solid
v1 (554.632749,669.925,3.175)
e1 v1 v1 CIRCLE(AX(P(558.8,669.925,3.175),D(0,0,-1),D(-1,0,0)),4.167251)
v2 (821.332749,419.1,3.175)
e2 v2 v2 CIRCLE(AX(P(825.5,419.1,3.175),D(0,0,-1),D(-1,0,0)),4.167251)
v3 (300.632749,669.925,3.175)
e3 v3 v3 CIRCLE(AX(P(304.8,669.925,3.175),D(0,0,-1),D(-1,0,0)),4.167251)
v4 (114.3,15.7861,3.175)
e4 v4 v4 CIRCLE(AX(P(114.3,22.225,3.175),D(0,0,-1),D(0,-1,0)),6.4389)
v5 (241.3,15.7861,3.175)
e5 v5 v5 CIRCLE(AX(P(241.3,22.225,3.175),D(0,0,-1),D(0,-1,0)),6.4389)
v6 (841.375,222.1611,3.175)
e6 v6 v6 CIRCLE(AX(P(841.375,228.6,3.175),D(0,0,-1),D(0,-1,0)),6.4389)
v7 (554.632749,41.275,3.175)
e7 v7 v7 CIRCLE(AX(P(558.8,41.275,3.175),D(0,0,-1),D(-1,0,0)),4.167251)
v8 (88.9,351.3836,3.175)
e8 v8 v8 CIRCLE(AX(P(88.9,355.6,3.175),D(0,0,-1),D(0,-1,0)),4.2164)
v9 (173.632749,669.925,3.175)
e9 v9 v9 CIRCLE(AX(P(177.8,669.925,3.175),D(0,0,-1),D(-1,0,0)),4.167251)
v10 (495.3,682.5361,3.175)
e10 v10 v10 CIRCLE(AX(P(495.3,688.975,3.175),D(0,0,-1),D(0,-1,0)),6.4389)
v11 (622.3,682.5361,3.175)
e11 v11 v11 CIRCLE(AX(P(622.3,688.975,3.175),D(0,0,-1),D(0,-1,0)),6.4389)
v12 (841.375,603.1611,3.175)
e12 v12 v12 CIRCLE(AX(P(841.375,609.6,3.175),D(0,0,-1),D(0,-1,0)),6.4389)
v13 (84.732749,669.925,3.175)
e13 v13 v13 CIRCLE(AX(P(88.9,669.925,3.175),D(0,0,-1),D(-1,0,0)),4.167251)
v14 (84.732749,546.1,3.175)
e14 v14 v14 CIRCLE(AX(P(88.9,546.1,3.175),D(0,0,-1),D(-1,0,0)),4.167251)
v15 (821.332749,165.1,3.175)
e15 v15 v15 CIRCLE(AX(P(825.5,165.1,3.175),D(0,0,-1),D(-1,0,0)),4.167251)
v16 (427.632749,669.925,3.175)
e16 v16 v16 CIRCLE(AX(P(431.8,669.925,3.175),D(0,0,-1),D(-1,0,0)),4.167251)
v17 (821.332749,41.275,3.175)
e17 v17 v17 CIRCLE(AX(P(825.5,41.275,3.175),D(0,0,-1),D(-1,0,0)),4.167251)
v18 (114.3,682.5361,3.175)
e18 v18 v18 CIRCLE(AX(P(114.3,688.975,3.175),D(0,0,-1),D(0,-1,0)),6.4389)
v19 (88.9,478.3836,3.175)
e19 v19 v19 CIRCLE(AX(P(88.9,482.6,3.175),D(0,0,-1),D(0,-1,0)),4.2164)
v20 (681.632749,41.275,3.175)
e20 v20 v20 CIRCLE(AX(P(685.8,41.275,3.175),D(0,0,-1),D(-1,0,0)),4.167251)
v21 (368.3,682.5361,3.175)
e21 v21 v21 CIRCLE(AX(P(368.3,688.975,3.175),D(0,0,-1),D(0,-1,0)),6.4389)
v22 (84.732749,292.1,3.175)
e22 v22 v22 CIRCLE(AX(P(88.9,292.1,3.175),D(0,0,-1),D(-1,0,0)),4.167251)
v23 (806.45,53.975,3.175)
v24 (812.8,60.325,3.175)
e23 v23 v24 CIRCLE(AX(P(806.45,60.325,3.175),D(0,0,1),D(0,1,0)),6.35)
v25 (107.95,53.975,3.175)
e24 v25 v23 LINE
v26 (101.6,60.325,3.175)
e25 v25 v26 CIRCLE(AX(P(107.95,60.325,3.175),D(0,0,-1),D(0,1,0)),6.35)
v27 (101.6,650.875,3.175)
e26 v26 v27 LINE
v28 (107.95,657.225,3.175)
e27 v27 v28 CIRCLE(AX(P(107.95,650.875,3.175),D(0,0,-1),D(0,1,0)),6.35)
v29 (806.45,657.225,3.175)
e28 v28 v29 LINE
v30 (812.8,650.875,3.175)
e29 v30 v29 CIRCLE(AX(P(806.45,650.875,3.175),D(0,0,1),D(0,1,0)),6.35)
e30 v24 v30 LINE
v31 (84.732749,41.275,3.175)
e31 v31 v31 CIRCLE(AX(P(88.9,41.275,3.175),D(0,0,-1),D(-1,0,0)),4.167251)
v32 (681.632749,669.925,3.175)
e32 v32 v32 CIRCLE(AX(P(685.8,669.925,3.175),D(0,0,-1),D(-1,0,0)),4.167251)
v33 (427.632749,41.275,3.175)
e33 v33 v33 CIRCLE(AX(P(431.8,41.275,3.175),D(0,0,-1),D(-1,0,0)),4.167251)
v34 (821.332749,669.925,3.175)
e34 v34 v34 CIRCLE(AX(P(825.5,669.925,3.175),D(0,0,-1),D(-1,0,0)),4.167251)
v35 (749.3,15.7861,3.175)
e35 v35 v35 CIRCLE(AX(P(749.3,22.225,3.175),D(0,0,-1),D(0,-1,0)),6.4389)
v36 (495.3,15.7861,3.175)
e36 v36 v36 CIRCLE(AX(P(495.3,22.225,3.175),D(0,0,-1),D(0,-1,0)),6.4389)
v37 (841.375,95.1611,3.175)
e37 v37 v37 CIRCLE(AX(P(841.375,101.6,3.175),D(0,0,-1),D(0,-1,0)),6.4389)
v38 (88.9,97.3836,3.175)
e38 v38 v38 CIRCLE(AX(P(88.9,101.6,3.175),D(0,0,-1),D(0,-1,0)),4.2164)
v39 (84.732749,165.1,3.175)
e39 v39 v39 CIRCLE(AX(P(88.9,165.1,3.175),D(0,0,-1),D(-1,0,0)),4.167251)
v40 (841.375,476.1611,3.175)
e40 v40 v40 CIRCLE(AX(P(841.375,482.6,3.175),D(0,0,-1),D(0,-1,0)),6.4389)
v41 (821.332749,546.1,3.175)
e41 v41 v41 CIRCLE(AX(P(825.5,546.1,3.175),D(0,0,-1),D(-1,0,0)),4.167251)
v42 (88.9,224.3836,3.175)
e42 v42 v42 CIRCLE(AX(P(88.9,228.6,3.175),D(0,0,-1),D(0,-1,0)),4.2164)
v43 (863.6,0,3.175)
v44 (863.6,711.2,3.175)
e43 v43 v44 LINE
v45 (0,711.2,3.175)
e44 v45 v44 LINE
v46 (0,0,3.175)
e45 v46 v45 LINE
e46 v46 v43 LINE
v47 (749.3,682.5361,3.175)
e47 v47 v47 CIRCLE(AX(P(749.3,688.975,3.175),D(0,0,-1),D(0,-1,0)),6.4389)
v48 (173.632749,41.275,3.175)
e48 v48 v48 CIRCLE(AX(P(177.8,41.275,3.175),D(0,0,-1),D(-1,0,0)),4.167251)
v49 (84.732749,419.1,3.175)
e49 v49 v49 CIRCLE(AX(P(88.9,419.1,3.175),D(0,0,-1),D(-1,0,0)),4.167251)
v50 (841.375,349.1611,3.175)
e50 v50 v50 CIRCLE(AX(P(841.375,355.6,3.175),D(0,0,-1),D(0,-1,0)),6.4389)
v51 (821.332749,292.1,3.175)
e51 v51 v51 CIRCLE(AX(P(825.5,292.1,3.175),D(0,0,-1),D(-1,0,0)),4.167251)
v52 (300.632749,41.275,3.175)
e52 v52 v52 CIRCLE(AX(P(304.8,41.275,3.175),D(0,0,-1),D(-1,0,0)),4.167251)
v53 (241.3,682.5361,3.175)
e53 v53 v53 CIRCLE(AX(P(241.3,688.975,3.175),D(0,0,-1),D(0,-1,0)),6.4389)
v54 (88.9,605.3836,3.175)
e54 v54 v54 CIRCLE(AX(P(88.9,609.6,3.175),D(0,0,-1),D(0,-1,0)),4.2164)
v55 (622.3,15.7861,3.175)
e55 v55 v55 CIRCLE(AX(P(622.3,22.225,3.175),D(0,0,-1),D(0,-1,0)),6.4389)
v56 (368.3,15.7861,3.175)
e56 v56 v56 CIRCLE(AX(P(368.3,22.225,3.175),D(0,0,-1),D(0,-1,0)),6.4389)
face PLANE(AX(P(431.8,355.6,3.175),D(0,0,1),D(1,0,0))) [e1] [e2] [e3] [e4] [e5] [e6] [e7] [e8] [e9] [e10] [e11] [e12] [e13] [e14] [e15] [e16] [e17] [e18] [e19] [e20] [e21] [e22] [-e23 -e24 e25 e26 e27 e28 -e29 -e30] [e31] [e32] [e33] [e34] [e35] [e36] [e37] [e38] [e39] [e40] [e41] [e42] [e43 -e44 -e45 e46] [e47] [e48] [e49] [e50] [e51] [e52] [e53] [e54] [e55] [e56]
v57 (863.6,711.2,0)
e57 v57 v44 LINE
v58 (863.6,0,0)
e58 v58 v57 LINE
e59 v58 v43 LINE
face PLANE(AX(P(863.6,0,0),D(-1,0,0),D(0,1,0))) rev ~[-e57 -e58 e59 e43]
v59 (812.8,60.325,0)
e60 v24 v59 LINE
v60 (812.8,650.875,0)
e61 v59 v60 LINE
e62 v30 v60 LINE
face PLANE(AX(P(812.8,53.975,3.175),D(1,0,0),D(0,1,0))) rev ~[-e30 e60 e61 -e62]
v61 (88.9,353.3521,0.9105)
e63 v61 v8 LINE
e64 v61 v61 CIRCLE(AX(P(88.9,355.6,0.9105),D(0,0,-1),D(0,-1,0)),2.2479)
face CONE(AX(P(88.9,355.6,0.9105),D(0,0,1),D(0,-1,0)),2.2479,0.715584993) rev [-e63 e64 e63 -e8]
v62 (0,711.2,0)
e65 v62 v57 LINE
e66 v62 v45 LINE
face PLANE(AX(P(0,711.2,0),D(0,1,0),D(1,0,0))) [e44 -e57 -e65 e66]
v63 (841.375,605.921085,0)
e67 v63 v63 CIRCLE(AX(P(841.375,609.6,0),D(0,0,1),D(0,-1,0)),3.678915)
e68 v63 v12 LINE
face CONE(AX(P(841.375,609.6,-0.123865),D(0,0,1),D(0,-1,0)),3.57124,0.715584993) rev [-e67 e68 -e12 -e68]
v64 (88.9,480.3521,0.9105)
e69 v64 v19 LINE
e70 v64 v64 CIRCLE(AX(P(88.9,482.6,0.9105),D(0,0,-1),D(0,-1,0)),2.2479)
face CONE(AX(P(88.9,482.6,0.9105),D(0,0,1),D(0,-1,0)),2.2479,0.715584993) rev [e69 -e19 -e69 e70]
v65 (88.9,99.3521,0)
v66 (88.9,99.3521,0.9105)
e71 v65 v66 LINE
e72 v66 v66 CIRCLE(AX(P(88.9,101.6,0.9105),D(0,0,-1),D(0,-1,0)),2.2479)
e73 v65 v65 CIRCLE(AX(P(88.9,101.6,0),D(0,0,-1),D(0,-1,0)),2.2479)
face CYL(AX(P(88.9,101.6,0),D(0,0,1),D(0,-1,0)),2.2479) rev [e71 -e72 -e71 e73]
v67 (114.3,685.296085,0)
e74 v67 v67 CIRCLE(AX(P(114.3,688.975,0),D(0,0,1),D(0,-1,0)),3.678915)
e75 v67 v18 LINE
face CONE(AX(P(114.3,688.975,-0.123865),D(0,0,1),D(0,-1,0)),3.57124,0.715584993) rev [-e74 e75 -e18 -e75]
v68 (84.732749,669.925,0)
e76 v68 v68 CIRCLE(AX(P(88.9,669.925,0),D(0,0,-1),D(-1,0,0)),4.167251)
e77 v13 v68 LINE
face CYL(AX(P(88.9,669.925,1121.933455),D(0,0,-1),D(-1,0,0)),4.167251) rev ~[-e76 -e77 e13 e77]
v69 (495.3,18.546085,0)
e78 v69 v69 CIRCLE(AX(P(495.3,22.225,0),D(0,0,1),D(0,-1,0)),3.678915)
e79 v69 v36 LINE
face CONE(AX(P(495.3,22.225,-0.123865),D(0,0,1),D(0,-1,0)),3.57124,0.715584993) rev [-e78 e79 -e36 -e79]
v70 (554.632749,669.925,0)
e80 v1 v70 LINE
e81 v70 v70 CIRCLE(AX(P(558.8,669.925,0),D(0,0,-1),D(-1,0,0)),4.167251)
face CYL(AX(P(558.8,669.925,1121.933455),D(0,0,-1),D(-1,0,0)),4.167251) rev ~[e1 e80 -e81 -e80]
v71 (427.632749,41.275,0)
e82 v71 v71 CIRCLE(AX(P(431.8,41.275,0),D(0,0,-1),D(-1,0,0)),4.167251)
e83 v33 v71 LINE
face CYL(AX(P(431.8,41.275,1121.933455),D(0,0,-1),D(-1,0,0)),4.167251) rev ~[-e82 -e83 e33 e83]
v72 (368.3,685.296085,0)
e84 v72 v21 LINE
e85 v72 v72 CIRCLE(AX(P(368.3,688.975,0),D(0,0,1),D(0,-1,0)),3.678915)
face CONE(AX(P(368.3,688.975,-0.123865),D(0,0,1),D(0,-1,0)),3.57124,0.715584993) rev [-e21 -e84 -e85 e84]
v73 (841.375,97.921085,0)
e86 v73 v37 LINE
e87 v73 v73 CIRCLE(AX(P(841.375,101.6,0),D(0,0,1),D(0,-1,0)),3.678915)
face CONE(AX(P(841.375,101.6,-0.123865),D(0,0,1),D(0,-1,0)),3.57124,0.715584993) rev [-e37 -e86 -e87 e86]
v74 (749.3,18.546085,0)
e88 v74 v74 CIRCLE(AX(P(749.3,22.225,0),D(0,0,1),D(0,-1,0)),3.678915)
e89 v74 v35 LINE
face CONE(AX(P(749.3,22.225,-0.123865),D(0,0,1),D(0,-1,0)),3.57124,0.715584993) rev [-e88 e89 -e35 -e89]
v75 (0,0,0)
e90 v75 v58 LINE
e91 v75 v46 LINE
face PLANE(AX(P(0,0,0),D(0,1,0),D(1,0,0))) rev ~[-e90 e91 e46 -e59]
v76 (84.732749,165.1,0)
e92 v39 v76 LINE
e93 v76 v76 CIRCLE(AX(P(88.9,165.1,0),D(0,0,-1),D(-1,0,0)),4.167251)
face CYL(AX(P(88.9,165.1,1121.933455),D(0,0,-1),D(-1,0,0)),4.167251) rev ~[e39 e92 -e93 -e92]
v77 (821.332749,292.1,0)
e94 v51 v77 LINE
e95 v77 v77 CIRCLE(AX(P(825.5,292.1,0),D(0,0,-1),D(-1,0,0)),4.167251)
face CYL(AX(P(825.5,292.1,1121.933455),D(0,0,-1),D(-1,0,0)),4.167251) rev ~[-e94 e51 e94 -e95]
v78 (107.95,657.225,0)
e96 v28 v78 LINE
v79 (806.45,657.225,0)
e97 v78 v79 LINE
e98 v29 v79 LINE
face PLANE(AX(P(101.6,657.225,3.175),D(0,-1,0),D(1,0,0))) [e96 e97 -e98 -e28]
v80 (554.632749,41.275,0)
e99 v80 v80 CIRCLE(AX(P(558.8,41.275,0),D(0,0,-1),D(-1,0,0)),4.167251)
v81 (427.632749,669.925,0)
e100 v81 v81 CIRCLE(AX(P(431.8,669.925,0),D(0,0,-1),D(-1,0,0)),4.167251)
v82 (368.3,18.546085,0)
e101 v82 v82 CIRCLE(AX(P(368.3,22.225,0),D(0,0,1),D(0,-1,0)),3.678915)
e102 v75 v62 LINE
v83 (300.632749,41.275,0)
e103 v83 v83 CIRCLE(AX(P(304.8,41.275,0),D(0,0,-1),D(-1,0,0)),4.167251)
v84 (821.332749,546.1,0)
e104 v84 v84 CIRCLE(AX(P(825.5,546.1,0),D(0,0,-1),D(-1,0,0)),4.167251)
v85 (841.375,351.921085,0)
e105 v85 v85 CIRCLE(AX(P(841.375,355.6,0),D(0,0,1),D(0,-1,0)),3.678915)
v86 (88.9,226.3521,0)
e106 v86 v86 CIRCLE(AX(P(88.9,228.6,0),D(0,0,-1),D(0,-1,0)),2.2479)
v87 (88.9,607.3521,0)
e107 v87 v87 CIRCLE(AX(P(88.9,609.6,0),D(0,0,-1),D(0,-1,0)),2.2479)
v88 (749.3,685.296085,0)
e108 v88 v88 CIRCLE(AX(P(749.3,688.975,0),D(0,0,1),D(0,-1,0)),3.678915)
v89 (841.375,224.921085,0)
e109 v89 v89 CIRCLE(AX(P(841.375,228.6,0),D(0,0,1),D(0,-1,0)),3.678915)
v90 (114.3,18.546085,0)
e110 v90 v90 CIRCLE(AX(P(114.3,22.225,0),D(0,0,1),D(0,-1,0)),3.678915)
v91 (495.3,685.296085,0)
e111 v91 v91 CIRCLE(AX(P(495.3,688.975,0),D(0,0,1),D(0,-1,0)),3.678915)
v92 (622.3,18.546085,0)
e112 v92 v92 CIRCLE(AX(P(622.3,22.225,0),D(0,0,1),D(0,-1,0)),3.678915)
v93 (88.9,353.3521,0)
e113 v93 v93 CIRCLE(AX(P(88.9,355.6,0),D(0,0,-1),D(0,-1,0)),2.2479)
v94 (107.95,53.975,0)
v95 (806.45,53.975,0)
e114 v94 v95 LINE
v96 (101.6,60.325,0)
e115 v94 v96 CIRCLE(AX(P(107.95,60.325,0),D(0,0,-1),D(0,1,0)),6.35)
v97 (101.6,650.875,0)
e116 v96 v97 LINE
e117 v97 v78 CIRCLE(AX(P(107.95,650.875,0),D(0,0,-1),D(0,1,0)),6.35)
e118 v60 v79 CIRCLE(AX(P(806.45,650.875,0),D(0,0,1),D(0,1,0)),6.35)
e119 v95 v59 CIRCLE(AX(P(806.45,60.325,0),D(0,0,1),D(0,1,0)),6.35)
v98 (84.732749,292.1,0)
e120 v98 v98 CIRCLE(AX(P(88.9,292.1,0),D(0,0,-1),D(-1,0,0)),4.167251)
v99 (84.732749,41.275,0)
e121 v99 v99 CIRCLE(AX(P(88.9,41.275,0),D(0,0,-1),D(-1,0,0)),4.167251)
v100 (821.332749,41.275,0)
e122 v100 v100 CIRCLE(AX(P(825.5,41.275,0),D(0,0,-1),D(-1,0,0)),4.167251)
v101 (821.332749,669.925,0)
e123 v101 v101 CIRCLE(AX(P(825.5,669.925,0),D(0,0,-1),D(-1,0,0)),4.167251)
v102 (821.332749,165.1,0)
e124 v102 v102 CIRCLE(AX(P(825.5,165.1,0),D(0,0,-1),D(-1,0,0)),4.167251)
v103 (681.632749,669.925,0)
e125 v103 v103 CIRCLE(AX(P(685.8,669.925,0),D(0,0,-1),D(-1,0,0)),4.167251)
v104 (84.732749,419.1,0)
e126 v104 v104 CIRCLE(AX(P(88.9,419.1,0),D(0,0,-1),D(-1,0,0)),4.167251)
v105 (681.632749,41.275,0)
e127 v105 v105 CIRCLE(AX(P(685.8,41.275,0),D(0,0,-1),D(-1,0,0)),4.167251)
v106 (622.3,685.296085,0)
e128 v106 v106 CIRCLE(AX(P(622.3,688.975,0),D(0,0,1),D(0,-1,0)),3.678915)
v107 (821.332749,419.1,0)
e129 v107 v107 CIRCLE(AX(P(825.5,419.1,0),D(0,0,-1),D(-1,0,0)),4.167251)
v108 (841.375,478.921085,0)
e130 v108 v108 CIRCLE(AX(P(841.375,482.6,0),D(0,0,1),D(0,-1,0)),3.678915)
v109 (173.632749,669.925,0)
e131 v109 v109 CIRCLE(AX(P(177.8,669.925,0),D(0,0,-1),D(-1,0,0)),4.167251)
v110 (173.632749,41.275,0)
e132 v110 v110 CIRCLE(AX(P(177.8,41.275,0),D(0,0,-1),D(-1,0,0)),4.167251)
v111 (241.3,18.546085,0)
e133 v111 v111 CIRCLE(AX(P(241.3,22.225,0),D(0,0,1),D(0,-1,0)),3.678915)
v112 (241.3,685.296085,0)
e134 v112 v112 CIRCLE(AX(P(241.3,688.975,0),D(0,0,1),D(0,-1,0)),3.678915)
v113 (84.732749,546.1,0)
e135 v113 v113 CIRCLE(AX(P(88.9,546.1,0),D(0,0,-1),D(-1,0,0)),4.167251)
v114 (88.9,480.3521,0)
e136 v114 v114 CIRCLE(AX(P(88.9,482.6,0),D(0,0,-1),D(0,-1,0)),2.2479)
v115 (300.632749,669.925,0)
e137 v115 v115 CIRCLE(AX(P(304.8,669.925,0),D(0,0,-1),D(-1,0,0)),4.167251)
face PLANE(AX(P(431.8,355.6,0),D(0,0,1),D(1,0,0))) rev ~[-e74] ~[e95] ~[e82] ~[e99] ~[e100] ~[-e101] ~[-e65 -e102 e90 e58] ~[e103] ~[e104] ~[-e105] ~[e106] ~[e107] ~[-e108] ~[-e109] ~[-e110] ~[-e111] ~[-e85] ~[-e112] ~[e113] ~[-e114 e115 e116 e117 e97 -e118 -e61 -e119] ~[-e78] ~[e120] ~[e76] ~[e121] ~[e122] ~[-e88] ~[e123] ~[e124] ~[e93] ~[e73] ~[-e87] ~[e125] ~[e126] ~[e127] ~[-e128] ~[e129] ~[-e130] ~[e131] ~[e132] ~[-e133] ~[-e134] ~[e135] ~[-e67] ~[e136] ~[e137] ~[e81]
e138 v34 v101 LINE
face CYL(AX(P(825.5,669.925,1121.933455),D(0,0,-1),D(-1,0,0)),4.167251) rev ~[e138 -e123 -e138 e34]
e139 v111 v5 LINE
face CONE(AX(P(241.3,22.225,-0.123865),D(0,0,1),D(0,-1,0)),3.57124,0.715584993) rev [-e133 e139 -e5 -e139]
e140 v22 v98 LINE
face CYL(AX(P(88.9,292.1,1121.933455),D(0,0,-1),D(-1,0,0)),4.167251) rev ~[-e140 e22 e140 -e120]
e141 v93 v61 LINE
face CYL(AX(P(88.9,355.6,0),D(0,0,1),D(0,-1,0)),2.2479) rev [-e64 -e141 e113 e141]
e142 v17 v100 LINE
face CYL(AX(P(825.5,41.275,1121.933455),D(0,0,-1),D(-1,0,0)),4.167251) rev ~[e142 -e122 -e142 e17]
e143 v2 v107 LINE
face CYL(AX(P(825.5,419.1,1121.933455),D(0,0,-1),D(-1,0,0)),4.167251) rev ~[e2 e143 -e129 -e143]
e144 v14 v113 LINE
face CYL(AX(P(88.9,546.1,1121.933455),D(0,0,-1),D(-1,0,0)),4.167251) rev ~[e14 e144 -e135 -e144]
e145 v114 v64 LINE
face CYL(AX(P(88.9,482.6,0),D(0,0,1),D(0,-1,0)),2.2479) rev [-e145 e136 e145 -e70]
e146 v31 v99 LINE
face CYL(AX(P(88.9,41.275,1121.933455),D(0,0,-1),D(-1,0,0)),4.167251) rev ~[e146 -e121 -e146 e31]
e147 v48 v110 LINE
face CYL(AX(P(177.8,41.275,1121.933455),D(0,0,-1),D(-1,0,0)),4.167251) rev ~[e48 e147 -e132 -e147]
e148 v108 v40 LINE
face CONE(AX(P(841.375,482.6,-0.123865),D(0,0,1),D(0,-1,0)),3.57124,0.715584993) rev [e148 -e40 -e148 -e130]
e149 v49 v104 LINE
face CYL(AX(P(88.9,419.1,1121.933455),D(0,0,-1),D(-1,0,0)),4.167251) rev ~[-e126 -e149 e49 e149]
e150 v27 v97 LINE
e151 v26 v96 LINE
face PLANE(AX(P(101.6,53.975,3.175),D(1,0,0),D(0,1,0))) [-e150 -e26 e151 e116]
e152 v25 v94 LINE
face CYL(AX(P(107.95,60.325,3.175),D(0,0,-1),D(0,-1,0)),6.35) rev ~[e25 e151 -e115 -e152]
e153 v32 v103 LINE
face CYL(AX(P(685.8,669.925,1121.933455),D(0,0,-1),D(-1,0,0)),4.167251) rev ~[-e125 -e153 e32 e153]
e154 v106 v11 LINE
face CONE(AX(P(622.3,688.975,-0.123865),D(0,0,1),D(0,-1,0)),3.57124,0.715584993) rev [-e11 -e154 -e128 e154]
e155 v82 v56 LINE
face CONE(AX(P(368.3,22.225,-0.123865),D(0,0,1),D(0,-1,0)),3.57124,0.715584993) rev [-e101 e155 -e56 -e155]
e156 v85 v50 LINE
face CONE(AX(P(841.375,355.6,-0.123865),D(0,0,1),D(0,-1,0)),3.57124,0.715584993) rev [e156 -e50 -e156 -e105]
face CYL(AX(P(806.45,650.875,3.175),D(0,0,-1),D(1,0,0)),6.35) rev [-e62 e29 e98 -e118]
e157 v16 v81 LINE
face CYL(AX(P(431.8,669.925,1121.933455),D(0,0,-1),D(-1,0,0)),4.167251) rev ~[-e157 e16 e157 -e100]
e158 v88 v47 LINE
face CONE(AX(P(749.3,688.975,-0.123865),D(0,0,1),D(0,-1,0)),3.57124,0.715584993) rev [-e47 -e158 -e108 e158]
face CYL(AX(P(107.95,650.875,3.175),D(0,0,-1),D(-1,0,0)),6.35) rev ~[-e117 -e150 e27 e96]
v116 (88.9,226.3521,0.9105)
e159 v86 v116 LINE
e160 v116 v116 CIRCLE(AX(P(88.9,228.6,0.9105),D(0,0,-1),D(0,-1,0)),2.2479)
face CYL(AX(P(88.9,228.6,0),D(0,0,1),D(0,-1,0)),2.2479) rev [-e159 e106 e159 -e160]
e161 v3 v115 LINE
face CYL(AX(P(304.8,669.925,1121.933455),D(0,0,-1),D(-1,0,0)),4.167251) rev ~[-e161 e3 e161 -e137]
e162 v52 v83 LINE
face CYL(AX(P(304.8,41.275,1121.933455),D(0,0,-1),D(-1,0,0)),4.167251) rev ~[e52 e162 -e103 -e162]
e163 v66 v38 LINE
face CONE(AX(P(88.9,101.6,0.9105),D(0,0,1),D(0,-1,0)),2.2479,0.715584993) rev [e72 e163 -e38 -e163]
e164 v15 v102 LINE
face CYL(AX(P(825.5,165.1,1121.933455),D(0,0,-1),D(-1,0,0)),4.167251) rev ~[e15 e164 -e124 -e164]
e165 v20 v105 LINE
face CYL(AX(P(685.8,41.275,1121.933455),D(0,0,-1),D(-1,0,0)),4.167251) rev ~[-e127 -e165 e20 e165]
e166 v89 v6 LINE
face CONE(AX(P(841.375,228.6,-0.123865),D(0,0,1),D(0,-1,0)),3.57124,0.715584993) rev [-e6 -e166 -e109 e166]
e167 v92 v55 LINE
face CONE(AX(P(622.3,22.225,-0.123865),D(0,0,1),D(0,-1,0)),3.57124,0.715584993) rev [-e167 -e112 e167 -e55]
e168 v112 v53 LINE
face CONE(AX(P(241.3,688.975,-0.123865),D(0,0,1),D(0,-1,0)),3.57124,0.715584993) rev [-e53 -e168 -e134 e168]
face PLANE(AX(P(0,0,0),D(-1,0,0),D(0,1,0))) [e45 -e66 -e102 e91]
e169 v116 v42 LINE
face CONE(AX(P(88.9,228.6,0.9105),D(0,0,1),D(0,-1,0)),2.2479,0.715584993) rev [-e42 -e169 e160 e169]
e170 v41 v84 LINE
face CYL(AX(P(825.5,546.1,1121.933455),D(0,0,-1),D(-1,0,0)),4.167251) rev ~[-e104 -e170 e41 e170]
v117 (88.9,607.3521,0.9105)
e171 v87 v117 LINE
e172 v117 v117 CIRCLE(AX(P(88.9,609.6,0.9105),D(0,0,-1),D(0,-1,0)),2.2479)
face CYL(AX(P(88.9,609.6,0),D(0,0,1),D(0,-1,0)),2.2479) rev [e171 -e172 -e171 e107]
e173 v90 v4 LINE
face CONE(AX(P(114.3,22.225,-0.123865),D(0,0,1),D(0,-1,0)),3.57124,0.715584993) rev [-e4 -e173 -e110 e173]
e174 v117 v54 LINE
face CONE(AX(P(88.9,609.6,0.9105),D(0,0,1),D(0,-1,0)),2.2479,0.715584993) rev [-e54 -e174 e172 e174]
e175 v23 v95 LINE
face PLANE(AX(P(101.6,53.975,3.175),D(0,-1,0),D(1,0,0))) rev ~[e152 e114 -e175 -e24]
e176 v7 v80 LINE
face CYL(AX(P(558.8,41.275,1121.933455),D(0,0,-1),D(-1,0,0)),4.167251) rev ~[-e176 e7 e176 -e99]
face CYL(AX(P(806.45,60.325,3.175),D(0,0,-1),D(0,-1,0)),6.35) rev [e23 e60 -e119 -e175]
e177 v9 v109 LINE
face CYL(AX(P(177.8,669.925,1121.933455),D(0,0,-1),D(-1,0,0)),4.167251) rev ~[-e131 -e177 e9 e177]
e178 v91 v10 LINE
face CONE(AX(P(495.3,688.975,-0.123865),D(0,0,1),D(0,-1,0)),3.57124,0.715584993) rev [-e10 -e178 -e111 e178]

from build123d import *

# Parameters (mm, degrees)
SKETCH2_W                        = 863.6
SKETCH2_H                        = 711.2
BOSS_EXTRUDE1_DEPTH              = 3.175
SKETCH3_W                        = 711.2
SKETCH3_H                        = 603.25
CUT_EXTRUDE2_DEPTH               = 1119.758454996
LPATTERN1_COUNT                  = 6
LPATTERN1_PITCH                  = 127
LPATTERN1_COUNT_DIR2             = 2
LPATTERN1_PITCH_DIR2             = 666.75
LPATTERN2_COUNT                  = 5
LPATTERN2_PITCH                  = 127
FILLET1_R                        = 6.35
F_21_64_0_32813_DIAMETER_HOLE1_D = 8.334502
LPATTERN4_COUNT                  = 2
LPATTERN4_PITCH                  = 736.6
LPATTERN4_COUNT_DIR2             = 2
LPATTERN4_PITCH_DIR2             = 628.65
F_21_64_0_32813_DIAMETER_HOLE2_D = 8.334502
LPATTERN5_COUNT                  = 5
LPATTERN5_PITCH                  = 127
LPATTERN5_COUNT_DIR2             = 2
LPATTERN5_PITCH_DIR2             = 628.65
F_21_64_0_32813_DIAMETER_HOLE3_D = 8.334502
LPATTERN6_COUNT                  = 4
LPATTERN6_PITCH                  = 127
LPATTERN6_COUNT_DIR2             = 2
LPATTERN6_PITCH_DIR2             = 736.6
LPATTERN7_COUNT                  = 5
LPATTERN7_PITCH                  = 127


with BuildPart() as part:
    # Sketch2 → Boss-Extrude1 (new body)
    with BuildSketch(Plane.XY):
        with Locations((431.8, 355.6)):
            Rectangle(SKETCH2_W, SKETCH2_H)
    extrude(amount=BOSS_EXTRUDE1_DEPTH)

    # Sketch3 → Cut-Extrude2 (cut, through all)
    with BuildSketch(Plane.XY.offset(3.175)):
        with Locations((457.2, 355.6)):
            Rectangle(SKETCH3_W, SKETCH3_H)
    extrude(amount=-CUT_EXTRUDE2_DEPTH, mode=Mode.SUBTRACT)

    # Sketch5 → CSK for 1/4 Flat Head Machine Screw1 (revolve, cut)
    with BuildSketch(Plane(origin=(114.3, 22.225, 3.175), x_dir=(0, -1, 0), z_dir=(1, 0, 0))):
        Polygon((0, 0), (0, 3.175), (3.57124, 3.175), (3.57124, 3.298865467), (6.4389, 0), align=None)
    csk_for_1_4_flat_head_machine_screw1 = revolve(axis=Axis((114.3, 22.225, 9.525), (0, 0, -1)), mode=Mode.SUBTRACT)

    # LPattern1: CSK for 1_4 Flat Head Machine Screw1 6 × 2
    with Locations(*[(i * LPATTERN1_PITCH, j * LPATTERN1_PITCH_DIR2, 0) for i in range(LPATTERN1_COUNT) for j in range(LPATTERN1_COUNT_DIR2) if (i, j) != (0, 0)]):
        add(csk_for_1_4_flat_head_machine_screw1, mode=Mode.SUBTRACT)

    # Sketch7 → CSK for 1/4 Flat Head Machine Screw2 (revolve, cut)
    with BuildSketch(Plane(origin=(841.375, 101.6, 3.175), x_dir=(0, -1, 0), z_dir=(1, 0, 0))):
        Polygon((0, 0), (0, 3.175), (3.57124, 3.175), (3.57124, 3.298865467), (6.4389, 0), align=None)
    csk_for_1_4_flat_head_machine_screw2 = revolve(axis=Axis((841.375, 101.6, 9.525), (0, 0, -1)), mode=Mode.SUBTRACT)

    # LPattern2: CSK for 1/4 Flat Head Machine Screw2 ×5
    with Locations(*[(0, i * LPATTERN2_PITCH, 0) for i in range(1, LPATTERN2_COUNT)]):
        add(csk_for_1_4_flat_head_machine_screw2, mode=Mode.SUBTRACT)

    # Fillet1
    fillet1_edges = [part.edges().sort_by_distance(p)[0] for p in [
        (101.6, 53.975, 1.5875),
        (101.6, 657.225, 1.5875),
        (812.8, 657.225, 1.5875),
        (812.8, 53.975, 1.5875),
    ]]
    fillet(fillet1_edges, radius=FILLET1_R)

    # 21/64 (0.32813) Diameter Hole1 (through all)
    with Locations(Plane.XY.offset(3.175)):
        with Locations((825.5, 41.275)):
            f_21_64_0_32813_diameter_hole1 = Hole(F_21_64_0_32813_DIAMETER_HOLE1_D / 2)

    # LPattern4: 21_64 _0.32813_ Diameter Hole1 2 × 2
    with Locations(*[(-i * LPATTERN4_PITCH, j * LPATTERN4_PITCH_DIR2, 0) for i in range(LPATTERN4_COUNT) for j in range(LPATTERN4_COUNT_DIR2) if (i, j) != (0, 0)]):
        add(f_21_64_0_32813_diameter_hole1, mode=Mode.SUBTRACT)

    # 21/64 (0.32813) Diameter Hole2 (through all)
    with Locations(Plane.XY.offset(3.175)):
        with Locations((685.8, 41.275)):
            f_21_64_0_32813_diameter_hole2 = Hole(F_21_64_0_32813_DIAMETER_HOLE2_D / 2)

    # LPattern5: 21_64 _0.32813_ Diameter Hole2 5 × 2
    with Locations(*[(-i * LPATTERN5_PITCH, j * LPATTERN5_PITCH_DIR2, 0) for i in range(LPATTERN5_COUNT) for j in range(LPATTERN5_COUNT_DIR2) if (i, j) != (0, 0)]):
        add(f_21_64_0_32813_diameter_hole2, mode=Mode.SUBTRACT)

    # 21/64 (0.32813) Diameter Hole3 (through all)
    with Locations(Plane.XY.offset(3.175)):
        with Locations((825.5, 165.1)):
            f_21_64_0_32813_diameter_hole3 = Hole(F_21_64_0_32813_DIAMETER_HOLE3_D / 2)

    # LPattern6: 21_64 _0.32813_ Diameter Hole3 4 × 2
    with Locations(*[(-j * LPATTERN6_PITCH_DIR2, i * LPATTERN6_PITCH, 0) for i in range(LPATTERN6_COUNT) for j in range(LPATTERN6_COUNT_DIR2) if (i, j) != (0, 0)]):
        add(f_21_64_0_32813_diameter_hole3, mode=Mode.SUBTRACT)

    # Sketch17 → CSK for #8 Flat Head Machine Screw1 (revolve, cut)
    with BuildSketch(Plane(origin=(88.9, 609.6, 3.175), x_dir=(0, -1, 0), z_dir=(1, 0, 0))):
        Polygon((0, 0), (0, 3.175), (2.2479, 3.175), (2.2479, 2.26450021), (4.2164, 0), align=None)
    csk_for_8_flat_head_machine_screw1 = revolve(axis=Axis((88.9, 609.6, 9.525), (0, 0, -1)), mode=Mode.SUBTRACT)

    # LPattern7: CSK for #8 Flat Head Machine Screw1 ×5
    with Locations(*[(0, -i * LPATTERN7_PITCH, 0) for i in range(1, LPATTERN7_COUNT)]):
        add(csk_for_8_flat_head_machine_screw1, mode=Mode.SUBTRACT)


solid = part.part
